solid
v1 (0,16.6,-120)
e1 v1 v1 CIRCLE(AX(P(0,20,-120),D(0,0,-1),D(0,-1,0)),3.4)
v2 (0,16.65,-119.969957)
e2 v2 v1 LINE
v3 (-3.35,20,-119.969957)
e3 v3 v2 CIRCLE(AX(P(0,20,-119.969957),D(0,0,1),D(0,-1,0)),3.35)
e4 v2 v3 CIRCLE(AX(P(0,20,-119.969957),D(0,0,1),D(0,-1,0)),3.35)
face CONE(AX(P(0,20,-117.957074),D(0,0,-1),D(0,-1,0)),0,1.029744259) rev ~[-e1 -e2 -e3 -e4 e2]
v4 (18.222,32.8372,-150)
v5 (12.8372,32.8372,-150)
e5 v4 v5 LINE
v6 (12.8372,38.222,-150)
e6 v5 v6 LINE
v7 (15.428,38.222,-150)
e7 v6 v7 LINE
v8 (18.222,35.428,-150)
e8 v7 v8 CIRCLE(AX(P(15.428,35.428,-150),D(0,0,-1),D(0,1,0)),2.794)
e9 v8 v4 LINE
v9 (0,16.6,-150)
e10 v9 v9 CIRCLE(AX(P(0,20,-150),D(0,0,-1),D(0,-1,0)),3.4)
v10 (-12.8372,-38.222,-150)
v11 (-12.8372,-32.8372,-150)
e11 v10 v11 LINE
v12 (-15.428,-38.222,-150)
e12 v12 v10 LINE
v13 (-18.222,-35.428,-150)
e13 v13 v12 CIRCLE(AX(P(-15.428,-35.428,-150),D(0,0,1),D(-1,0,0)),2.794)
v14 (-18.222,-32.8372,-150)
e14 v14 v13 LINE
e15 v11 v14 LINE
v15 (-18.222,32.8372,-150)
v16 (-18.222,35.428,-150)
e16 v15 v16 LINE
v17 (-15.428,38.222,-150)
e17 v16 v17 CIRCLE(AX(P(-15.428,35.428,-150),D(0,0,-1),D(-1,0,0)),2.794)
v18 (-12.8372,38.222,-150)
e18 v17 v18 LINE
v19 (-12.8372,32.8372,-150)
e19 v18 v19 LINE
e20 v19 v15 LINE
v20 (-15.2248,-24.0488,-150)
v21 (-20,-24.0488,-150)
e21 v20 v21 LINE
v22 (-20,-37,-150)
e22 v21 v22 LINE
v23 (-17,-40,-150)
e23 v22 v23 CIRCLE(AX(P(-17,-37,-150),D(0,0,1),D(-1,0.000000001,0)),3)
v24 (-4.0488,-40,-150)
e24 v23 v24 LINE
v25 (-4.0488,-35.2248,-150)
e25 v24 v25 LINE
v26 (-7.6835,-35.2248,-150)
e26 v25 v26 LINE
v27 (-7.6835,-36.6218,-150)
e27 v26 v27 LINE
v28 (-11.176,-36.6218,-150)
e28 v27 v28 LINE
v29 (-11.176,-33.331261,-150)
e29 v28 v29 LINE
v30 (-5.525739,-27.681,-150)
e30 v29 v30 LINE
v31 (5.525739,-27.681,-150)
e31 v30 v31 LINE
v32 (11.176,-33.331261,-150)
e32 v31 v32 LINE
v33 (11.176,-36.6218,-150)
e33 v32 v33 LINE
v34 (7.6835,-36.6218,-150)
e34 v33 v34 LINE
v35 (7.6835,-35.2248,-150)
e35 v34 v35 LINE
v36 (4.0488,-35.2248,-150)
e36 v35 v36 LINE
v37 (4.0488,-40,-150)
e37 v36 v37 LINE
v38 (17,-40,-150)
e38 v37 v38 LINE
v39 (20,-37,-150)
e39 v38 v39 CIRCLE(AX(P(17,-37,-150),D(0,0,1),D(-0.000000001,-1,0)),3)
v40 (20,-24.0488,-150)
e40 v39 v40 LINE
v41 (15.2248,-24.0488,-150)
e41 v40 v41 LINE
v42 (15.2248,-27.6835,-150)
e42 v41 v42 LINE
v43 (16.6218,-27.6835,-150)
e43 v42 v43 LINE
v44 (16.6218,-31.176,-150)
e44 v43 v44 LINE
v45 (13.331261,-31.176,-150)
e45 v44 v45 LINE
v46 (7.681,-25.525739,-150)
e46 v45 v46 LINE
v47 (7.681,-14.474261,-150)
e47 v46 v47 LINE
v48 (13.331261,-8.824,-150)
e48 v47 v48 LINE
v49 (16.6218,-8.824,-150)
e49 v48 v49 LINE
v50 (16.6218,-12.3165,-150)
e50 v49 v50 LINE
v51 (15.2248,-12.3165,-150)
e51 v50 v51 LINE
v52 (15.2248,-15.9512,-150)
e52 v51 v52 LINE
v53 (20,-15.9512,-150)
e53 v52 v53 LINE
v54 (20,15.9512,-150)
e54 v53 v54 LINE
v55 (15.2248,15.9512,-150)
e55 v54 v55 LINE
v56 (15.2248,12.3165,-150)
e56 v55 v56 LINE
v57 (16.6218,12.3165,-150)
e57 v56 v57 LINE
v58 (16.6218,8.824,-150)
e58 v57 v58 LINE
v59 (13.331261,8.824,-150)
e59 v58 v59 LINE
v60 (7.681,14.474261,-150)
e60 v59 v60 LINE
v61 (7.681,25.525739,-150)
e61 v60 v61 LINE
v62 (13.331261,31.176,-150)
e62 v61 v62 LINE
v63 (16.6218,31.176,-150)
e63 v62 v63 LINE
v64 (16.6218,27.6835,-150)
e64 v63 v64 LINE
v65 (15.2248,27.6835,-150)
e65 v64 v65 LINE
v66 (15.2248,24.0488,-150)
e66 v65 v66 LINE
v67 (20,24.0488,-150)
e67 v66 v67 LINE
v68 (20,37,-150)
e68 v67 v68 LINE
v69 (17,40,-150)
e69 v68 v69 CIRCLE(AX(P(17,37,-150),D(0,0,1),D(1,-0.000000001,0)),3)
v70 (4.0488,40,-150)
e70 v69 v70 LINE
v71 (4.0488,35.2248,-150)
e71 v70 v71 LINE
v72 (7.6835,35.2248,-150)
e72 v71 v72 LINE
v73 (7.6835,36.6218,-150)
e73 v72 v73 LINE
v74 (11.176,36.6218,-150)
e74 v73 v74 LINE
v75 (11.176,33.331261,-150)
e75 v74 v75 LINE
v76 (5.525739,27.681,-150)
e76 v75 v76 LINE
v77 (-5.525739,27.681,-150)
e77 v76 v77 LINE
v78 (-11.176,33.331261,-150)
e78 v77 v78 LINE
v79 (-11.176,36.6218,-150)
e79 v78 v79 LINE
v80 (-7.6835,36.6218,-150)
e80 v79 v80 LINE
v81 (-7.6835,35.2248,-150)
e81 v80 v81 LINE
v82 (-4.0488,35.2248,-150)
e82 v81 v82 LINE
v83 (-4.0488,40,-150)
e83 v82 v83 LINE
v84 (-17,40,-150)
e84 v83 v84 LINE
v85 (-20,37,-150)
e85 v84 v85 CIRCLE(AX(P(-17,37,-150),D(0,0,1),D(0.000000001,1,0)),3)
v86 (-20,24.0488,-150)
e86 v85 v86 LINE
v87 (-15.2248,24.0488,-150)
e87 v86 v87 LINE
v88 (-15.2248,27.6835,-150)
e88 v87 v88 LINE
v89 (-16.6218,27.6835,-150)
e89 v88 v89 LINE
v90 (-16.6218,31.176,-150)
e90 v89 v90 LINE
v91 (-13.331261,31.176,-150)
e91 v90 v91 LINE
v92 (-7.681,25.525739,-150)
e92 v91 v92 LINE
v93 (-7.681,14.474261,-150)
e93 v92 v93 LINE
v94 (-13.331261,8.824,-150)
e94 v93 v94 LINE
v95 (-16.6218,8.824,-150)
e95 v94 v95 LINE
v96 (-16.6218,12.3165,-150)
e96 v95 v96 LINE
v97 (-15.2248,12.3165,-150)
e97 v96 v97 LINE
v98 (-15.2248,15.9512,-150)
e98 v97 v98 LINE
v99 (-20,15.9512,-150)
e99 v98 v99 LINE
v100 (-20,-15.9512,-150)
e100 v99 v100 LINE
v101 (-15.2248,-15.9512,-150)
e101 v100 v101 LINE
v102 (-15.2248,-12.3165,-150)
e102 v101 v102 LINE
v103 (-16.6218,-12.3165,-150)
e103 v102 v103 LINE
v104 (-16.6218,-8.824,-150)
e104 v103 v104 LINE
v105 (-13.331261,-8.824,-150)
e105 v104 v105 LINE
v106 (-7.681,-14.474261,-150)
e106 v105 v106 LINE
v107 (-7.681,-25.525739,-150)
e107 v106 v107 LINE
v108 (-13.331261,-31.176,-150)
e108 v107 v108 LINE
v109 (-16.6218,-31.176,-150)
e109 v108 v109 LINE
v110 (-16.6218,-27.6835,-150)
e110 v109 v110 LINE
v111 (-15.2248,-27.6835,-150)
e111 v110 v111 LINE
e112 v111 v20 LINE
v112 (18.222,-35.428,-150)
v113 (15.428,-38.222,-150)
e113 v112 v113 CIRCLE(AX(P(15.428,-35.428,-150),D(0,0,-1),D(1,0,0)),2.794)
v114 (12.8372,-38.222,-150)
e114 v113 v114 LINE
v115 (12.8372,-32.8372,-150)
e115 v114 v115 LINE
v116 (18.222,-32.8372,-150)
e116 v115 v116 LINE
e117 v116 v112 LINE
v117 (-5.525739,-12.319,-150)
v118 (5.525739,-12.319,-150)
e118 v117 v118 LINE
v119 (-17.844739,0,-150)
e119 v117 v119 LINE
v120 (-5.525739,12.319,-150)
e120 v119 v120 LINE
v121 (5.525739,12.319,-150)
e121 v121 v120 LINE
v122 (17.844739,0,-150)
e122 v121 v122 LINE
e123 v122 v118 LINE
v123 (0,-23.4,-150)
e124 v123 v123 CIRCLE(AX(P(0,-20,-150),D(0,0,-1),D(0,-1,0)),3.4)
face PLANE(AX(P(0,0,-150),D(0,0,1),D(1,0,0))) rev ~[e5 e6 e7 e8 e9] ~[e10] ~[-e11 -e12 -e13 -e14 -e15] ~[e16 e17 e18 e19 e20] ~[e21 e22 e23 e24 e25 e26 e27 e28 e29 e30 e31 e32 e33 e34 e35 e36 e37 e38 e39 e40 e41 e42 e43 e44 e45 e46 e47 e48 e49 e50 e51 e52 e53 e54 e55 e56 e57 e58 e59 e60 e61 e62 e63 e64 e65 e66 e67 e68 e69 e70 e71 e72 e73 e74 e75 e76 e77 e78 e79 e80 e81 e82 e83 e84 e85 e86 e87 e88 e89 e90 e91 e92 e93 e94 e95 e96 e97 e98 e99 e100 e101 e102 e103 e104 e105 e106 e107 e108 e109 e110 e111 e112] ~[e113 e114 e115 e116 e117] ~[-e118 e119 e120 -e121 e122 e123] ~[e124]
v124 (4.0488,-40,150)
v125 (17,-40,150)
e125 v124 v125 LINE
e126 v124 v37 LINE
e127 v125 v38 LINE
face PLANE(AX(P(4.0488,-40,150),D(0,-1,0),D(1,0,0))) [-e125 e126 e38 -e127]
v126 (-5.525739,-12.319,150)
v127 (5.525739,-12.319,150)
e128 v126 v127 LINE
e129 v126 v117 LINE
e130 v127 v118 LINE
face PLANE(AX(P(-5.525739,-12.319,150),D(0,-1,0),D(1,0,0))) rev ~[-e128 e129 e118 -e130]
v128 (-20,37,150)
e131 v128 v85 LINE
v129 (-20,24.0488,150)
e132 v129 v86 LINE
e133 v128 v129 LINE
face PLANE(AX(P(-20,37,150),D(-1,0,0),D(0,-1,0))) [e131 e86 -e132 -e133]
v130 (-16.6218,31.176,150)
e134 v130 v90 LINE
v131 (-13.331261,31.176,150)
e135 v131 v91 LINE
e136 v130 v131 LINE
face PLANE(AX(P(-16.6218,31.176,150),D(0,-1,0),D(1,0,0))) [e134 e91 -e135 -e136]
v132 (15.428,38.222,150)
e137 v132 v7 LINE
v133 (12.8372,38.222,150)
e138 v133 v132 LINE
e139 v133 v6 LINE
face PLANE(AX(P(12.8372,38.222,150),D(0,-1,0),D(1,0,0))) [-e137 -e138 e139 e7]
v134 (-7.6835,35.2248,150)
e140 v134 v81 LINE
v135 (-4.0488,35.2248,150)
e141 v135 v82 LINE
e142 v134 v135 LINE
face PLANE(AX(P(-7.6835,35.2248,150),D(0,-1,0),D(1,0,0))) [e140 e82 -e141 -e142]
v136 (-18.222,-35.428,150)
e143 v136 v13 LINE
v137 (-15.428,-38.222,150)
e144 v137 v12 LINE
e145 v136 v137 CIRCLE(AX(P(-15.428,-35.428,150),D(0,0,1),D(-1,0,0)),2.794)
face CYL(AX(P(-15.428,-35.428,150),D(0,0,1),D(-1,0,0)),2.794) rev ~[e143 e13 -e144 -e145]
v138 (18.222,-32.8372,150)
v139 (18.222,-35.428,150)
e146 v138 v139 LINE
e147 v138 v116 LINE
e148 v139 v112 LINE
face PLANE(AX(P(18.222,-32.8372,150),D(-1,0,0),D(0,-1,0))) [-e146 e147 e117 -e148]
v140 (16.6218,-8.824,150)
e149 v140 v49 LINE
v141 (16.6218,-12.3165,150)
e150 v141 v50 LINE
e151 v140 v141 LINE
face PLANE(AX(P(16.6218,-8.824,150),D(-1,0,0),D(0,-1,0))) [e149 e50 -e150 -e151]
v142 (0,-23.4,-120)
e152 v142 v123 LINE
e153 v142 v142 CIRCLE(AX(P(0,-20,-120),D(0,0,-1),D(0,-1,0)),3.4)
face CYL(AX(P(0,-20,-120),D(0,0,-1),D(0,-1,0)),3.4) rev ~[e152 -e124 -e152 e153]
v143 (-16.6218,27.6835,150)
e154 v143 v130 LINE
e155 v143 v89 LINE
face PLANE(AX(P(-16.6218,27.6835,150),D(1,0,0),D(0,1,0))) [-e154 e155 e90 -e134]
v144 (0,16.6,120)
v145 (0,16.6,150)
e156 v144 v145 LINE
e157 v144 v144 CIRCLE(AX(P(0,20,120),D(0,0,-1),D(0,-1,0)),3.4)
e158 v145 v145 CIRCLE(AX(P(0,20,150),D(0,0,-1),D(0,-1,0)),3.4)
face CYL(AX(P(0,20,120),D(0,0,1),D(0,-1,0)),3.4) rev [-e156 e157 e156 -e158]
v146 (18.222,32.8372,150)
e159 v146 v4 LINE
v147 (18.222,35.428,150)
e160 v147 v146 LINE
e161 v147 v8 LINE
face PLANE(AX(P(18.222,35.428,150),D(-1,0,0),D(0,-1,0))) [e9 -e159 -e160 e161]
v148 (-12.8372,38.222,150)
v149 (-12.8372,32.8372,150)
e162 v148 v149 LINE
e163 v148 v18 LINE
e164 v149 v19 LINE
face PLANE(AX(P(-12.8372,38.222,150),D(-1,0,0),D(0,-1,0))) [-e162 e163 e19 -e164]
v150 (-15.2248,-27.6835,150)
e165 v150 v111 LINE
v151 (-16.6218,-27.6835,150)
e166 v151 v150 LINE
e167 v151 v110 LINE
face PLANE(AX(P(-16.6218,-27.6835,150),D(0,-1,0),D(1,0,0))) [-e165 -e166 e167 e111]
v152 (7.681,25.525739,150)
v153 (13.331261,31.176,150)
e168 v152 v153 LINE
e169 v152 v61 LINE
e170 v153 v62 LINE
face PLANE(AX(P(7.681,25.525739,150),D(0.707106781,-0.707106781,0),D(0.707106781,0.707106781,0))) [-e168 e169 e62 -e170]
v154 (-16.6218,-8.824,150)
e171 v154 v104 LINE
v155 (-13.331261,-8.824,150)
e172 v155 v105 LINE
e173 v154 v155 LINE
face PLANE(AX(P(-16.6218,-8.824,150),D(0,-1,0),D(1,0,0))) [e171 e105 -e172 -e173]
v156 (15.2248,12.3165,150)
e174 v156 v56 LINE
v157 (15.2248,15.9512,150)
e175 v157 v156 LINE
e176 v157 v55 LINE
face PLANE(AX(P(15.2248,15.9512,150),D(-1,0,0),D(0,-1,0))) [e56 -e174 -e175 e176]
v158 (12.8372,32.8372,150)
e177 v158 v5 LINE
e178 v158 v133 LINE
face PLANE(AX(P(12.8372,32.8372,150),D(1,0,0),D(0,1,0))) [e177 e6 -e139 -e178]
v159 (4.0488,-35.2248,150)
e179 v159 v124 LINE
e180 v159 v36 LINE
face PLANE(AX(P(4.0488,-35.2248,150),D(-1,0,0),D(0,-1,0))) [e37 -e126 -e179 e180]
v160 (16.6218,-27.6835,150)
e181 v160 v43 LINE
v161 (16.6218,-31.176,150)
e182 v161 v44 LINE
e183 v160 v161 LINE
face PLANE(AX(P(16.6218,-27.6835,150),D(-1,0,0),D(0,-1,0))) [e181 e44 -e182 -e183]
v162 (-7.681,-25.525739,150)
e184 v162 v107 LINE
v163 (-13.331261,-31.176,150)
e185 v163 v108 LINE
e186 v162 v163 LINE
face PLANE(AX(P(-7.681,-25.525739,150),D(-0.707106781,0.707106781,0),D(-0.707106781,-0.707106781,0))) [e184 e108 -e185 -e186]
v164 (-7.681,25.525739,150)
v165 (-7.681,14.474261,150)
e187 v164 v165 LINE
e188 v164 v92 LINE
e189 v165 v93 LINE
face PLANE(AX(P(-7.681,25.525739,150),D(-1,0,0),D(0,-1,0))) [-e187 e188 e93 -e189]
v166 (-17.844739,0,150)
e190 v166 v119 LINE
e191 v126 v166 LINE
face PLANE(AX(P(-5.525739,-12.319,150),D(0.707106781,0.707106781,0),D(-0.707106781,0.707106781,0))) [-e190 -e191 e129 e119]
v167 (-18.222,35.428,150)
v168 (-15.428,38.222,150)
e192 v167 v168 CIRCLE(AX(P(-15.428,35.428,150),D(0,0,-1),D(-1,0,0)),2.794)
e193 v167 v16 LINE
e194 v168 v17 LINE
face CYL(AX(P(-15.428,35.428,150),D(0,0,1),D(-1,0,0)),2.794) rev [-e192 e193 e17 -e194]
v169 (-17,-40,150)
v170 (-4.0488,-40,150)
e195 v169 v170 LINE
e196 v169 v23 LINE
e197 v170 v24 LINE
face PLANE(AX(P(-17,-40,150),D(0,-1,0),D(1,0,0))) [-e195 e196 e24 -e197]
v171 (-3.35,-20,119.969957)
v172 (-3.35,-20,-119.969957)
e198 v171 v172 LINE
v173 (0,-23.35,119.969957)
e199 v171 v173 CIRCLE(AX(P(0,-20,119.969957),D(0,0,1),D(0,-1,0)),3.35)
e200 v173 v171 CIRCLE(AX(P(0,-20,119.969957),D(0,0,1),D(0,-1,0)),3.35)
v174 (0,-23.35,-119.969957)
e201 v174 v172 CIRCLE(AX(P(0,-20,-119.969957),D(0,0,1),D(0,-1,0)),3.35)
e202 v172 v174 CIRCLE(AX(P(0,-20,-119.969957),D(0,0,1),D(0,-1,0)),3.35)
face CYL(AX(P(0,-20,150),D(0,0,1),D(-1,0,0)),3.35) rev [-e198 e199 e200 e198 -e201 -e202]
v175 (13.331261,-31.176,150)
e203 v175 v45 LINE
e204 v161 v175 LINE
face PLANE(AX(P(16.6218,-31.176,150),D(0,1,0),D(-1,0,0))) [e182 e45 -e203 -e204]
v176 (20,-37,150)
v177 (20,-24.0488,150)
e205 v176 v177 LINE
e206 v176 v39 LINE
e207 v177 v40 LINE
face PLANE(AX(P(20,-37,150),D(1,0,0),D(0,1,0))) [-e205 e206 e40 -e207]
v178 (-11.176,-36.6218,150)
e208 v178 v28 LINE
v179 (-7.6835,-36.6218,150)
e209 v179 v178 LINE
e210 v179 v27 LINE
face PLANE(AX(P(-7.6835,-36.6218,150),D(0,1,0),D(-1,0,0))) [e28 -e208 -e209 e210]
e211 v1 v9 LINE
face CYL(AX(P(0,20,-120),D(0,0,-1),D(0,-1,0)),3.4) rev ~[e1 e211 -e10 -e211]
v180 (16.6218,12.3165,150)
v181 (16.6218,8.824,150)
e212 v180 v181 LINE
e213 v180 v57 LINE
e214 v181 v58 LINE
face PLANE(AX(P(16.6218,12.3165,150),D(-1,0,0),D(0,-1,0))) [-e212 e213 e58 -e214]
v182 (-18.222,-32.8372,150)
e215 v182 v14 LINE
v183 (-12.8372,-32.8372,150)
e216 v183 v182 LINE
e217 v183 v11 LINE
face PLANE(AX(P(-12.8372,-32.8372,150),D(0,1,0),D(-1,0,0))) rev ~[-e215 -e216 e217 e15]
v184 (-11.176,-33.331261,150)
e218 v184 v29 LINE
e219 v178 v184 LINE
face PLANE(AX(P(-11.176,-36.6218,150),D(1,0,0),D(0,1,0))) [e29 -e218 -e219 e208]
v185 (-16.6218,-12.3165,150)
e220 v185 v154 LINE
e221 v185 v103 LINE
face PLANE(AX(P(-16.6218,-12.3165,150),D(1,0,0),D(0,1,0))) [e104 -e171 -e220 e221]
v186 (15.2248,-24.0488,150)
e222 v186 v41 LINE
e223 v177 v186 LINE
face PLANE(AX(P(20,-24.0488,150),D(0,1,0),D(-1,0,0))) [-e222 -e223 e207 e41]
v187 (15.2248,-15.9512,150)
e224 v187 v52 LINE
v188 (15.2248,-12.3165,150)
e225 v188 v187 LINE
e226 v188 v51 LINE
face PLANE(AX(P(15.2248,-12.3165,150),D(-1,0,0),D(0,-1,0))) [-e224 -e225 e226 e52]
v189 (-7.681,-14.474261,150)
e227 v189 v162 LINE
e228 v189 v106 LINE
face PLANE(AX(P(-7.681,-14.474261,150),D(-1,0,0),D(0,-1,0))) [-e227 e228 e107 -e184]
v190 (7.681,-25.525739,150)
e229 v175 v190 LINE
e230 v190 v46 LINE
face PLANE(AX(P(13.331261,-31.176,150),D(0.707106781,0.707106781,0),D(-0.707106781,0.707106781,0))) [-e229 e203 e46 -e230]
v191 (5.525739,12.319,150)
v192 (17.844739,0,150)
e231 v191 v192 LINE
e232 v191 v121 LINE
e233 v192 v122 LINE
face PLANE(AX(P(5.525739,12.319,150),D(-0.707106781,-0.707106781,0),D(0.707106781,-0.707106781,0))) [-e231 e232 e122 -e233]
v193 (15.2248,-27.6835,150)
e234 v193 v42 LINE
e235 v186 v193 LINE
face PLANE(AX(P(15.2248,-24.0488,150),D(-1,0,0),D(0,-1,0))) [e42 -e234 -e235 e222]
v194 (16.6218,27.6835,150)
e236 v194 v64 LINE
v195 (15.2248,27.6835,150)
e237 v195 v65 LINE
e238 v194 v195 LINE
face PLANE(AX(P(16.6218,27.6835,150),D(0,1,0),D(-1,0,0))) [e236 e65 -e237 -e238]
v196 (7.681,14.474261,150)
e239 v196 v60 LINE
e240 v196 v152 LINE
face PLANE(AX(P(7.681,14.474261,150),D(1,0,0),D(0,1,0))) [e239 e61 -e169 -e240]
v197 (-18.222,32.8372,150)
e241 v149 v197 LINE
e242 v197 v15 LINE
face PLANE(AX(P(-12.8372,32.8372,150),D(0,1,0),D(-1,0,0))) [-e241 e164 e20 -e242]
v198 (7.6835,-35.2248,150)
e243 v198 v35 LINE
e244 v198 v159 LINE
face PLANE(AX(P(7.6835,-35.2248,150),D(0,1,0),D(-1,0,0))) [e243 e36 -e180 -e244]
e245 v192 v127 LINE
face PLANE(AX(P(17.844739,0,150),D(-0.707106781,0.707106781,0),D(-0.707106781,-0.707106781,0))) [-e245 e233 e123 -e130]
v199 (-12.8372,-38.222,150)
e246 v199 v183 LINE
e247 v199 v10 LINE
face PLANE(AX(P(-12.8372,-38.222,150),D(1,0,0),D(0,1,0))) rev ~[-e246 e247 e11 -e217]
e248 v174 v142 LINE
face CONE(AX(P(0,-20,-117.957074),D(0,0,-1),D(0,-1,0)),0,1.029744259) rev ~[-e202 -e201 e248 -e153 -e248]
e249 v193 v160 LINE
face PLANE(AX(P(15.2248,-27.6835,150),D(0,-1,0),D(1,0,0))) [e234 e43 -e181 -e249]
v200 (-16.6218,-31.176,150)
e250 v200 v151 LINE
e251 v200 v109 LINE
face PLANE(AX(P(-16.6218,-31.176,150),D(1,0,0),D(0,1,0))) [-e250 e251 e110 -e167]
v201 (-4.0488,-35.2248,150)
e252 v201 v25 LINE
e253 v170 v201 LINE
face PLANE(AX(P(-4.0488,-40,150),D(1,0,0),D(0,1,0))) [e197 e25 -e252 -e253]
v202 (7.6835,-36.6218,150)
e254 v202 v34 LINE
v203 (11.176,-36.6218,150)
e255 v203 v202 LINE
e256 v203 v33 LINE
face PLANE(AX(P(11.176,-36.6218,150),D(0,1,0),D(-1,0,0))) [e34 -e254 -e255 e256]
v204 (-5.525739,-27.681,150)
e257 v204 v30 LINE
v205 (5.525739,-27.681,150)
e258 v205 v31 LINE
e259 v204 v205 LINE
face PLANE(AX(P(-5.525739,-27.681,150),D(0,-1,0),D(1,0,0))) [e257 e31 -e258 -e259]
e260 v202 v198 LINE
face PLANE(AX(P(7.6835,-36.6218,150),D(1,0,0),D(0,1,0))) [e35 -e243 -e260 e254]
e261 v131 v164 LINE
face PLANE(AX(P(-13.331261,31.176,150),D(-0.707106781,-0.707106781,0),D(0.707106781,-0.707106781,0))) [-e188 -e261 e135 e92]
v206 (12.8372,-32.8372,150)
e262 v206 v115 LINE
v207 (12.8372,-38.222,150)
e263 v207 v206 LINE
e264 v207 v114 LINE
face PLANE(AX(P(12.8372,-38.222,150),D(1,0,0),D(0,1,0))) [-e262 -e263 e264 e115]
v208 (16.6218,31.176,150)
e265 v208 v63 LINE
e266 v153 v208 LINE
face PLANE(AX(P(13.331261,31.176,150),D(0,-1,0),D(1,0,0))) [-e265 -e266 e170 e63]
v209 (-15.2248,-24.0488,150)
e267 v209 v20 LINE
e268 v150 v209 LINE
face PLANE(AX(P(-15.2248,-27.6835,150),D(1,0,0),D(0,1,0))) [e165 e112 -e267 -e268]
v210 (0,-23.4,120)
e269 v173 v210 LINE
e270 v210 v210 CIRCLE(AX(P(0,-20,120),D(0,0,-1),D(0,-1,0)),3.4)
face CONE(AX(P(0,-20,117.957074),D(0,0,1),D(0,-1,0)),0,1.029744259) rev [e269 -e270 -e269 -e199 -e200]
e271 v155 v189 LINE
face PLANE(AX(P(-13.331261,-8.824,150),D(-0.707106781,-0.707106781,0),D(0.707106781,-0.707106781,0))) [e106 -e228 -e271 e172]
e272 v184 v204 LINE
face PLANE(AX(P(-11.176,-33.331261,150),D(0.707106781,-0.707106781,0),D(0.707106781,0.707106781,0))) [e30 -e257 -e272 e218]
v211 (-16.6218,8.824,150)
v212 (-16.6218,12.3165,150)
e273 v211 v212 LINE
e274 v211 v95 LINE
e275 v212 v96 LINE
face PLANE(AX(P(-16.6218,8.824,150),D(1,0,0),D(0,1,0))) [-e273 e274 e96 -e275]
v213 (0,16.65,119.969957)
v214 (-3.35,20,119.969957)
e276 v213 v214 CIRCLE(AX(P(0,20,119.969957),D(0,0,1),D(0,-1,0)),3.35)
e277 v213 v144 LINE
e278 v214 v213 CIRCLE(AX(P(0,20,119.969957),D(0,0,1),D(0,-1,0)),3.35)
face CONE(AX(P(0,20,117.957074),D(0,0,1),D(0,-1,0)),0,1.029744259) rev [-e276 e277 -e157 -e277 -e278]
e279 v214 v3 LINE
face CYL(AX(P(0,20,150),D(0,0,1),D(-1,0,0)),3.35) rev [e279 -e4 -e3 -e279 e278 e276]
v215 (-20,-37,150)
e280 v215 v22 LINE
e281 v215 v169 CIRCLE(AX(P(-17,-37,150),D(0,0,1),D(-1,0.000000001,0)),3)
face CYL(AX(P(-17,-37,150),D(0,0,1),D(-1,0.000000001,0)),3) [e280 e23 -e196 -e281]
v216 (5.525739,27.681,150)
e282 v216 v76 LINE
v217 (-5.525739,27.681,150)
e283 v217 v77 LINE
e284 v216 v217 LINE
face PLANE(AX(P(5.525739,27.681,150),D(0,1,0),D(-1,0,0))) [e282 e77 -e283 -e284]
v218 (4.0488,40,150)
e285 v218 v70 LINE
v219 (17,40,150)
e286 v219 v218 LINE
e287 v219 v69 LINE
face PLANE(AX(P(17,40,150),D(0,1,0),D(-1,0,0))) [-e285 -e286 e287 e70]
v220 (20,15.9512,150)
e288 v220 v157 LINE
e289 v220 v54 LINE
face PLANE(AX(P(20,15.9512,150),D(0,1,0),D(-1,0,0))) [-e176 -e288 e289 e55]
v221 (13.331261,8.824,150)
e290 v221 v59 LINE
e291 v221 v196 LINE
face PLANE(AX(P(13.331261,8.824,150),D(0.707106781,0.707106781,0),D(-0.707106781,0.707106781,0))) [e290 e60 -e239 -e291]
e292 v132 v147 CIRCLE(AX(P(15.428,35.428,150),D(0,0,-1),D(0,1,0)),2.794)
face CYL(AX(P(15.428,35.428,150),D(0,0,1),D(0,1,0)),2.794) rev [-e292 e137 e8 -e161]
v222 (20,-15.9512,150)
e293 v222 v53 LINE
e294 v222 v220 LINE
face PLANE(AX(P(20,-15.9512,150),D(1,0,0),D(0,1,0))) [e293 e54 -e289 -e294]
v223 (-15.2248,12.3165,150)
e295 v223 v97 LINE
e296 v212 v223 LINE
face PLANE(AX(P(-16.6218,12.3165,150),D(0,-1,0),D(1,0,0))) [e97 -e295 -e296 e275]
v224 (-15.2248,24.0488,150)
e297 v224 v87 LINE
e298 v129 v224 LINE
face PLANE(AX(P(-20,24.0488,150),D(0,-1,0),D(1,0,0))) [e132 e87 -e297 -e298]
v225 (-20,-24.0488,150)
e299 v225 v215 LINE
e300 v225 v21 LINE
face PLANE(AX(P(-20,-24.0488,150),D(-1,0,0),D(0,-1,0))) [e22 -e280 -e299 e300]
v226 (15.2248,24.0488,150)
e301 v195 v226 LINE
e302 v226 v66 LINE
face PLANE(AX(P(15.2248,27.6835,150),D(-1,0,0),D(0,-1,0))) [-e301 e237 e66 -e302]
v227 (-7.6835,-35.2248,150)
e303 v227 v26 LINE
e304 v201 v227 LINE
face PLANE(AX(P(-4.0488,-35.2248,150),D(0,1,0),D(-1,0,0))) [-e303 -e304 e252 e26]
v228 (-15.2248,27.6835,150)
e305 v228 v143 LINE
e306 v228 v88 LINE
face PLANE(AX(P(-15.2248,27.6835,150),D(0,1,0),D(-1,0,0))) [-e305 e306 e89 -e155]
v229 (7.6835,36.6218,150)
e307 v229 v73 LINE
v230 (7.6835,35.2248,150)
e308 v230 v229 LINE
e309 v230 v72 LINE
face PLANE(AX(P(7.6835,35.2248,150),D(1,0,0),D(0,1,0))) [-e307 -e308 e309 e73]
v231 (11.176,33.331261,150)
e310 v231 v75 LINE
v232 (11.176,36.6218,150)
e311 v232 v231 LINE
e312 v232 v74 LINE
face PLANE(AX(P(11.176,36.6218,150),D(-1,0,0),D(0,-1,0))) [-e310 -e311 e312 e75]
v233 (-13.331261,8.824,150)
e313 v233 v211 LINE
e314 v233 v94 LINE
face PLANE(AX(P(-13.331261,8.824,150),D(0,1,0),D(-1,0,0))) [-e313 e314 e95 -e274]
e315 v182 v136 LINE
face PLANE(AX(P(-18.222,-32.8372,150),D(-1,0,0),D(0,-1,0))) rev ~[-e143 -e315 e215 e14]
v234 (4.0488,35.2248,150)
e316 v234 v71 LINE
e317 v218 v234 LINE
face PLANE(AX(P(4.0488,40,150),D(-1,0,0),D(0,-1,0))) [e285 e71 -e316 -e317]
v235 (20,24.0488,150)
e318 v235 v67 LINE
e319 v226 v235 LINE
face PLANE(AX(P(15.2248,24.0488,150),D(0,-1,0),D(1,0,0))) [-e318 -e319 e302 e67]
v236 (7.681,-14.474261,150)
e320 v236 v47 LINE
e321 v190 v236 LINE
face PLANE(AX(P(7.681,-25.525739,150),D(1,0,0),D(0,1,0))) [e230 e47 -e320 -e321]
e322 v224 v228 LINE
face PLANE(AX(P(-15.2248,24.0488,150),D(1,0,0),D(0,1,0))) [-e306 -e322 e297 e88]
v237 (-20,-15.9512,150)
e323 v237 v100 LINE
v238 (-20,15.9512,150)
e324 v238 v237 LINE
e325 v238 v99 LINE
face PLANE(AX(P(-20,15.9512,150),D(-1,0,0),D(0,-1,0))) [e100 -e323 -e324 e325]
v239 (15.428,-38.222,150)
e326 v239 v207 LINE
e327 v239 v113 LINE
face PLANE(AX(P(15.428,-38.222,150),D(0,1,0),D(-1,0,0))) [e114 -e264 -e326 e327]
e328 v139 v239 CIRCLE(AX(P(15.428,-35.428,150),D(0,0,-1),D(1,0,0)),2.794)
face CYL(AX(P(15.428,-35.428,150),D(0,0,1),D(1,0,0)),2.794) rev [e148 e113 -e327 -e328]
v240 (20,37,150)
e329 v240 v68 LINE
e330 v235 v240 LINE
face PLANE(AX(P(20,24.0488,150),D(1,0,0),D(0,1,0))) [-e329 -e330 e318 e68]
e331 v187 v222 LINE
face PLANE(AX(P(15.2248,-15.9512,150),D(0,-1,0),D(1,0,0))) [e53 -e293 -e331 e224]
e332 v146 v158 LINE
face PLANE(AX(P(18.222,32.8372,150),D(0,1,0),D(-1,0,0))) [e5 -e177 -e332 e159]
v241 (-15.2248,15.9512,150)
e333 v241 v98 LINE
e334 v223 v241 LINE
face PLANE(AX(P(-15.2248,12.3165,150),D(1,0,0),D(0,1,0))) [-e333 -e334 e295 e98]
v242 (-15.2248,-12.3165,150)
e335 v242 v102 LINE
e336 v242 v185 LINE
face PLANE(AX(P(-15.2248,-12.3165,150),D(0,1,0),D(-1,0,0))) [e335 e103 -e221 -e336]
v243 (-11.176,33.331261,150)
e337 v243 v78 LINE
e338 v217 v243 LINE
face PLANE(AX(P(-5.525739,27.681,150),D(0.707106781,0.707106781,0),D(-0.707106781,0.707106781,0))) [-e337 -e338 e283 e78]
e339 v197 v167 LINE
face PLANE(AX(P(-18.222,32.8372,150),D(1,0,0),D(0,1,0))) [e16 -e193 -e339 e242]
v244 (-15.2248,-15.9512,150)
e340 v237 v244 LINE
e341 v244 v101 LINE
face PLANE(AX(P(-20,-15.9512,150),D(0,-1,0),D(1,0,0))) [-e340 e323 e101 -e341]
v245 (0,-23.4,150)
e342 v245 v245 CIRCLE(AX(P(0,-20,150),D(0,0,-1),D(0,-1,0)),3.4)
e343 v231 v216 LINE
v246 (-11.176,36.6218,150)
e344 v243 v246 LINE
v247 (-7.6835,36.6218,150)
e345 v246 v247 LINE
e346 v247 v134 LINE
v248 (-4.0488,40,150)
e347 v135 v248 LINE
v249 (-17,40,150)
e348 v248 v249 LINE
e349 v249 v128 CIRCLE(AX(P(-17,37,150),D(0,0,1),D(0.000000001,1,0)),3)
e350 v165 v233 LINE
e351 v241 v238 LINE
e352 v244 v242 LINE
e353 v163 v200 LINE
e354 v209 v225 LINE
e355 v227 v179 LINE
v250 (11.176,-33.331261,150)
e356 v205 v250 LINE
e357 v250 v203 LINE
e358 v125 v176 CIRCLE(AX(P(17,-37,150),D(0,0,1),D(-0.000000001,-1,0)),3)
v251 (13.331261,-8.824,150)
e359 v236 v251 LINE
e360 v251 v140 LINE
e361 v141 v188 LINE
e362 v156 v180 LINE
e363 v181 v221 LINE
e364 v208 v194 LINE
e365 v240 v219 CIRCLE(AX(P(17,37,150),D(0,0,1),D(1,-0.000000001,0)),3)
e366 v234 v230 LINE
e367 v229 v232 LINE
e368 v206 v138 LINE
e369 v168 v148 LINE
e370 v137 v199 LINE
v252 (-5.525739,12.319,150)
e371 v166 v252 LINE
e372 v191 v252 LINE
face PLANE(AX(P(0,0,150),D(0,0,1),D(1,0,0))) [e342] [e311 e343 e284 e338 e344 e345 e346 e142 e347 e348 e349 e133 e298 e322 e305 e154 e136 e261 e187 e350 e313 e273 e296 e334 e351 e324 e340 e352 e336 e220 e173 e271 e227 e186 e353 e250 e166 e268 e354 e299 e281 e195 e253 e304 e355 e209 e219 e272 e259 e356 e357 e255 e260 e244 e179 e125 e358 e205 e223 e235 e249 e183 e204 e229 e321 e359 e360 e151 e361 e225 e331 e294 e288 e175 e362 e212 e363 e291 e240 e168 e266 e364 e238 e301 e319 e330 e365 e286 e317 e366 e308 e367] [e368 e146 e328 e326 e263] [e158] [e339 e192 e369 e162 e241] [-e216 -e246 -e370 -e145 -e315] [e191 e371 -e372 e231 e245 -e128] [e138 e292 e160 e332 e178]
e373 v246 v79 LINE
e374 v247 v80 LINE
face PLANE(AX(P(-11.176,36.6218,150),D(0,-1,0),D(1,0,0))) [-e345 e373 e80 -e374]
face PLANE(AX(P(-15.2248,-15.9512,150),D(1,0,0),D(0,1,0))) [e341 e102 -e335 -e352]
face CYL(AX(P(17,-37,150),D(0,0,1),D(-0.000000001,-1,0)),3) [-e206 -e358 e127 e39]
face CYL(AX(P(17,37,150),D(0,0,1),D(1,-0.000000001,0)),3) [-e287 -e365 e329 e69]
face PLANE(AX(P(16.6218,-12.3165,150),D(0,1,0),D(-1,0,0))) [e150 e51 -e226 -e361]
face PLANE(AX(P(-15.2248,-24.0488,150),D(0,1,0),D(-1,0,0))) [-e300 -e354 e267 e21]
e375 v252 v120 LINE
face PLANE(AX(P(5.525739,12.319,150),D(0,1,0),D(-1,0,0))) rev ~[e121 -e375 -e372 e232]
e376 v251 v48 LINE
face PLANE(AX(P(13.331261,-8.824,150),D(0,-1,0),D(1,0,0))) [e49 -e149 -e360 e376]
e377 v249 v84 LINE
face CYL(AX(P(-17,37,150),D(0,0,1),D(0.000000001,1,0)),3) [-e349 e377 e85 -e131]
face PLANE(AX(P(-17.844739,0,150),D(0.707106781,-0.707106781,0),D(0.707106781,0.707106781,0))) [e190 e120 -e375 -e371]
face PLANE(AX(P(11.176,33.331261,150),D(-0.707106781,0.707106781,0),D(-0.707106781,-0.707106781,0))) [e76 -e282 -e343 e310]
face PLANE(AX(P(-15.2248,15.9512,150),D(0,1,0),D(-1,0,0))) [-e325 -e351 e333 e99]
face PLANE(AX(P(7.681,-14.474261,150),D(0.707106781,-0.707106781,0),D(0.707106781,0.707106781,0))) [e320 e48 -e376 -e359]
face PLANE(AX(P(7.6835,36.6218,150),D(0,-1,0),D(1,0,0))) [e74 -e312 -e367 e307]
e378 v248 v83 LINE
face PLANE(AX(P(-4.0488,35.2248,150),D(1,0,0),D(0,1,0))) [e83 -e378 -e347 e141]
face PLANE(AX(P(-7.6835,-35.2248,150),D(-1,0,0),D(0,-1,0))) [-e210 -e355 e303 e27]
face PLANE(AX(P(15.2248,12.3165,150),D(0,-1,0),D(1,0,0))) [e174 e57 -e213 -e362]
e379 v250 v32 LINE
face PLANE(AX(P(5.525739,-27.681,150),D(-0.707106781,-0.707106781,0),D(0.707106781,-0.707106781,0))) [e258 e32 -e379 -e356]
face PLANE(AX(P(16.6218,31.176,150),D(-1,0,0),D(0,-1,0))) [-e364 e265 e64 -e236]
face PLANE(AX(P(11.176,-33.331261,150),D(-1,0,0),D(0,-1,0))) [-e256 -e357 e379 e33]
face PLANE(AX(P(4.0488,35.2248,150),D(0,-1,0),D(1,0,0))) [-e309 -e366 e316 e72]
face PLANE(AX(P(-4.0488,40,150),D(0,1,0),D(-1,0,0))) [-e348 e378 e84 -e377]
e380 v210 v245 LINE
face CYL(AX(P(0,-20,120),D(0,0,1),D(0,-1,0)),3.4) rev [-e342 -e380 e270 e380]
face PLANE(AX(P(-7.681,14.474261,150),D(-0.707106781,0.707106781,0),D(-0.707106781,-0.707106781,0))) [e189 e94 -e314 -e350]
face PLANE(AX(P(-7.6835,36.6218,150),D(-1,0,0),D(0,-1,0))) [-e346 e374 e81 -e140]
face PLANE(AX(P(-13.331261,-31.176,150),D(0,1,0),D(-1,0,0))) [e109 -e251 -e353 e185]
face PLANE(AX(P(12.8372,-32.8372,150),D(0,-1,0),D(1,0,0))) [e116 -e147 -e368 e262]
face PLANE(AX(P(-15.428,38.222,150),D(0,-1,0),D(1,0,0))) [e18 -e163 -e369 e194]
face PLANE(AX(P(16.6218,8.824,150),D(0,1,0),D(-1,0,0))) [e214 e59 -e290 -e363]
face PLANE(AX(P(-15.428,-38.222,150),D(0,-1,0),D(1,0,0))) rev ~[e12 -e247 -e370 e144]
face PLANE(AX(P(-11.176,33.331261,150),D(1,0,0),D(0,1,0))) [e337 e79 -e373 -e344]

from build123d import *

# Parameters (mm, degrees)
SKETCH2_R                            = 3.35
F_40_SERIES_TS40_80LM_650037_1_DEPTH = 300
M8X1_25_TAPPED_HOLE1_AT_2_COUNT      = 2
M8X1_25_TAPPED_HOLE1_AT_2_PITCH      = 40


with BuildPart() as part:
    # Sketch2 → 40 series TS40-80LM-650037(1) (new body)
    with BuildSketch(Plane(origin=(0, 0, 150), x_dir=(-1, 0, 0), z_dir=(0, 0, -1))):
        with BuildLine():
            Line((0, -27.681), (-5.525738531, -27.681))
            Line((-5.525738531, -27.681), (-11.176, -33.331261469))
            Line((-11.176, -33.331261469), (-11.176, -36.6218))
            Line((-11.176, -36.6218), (-7.6835, -36.6218))
            Line((-7.6835, -36.6218), (-7.6835, -35.2248))
            Line((-7.6835, -35.2248), (-4.0488, -35.2248))
            Line((-4.0488, -35.2248), (-4.0488, -40))
            Line((-4.0488, -40), (-17, -40))
            ThreePointArc((-17, -40), (-19.121320344, -39.121320344), (-20, -37))
            Line((-20, -37), (-20, -24.0488))
            Line((-20, -24.0488), (-15.2248, -24.0488))
            Line((-15.2248, -24.0488), (-15.2248, -27.6835))
            Line((-15.2248, -27.6835), (-16.6218, -27.6835))
            Line((-16.6218, -27.6835), (-16.6218, -31.176))
            Line((-16.6218, -31.176), (-13.331261469, -31.176))
            Line((-13.331261469, -31.176), (-7.681, -25.525738531))
            Line((-7.681, -25.525738531), (-7.681, -20))
            Line((-7.681, -20), (-7.681, -14.474261469))
            Line((-7.681, -14.474261469), (-13.331261469, -8.824))
            Line((-13.331261469, -8.824), (-16.6218, -8.824))
            Line((-16.6218, -8.824), (-16.6218, -12.3165))
            Line((-16.6218, -12.3165), (-15.2248, -12.3165))
            Line((-15.2248, -12.3165), (-15.2248, -15.9512))
            Line((-15.2248, -15.9512), (-20, -15.9512))
            Line((-20, -15.9512), (-20, 15.9512))
            Line((-20, 15.9512), (-15.2248, 15.9512))
            Line((-15.2248, 15.9512), (-15.2248, 12.3165))
            Line((-15.2248, 12.3165), (-16.6218, 12.3165))
            Line((-16.6218, 12.3165), (-16.6218, 8.824))
            Line((-16.6218, 8.824), (-13.331261469, 8.824))
            Line((-13.331261469, 8.824), (-7.681, 14.474261469))
            Line((-7.681, 14.474261469), (-7.681, 25.525738531))
            Line((-7.681, 25.525738531), (-13.331261469, 31.176))
            Line((-13.331261469, 31.176), (-16.6218, 31.176))
            Line((-16.6218, 31.176), (-16.6218, 27.6835))
            Line((-16.6218, 27.6835), (-15.2248, 27.6835))
            Line((-15.2248, 27.6835), (-15.2248, 24.0488))
            Line((-15.2248, 24.0488), (-20, 24.0488))
            Line((-20, 24.0488), (-20, 37))
            ThreePointArc((-20, 37), (-19.121320344, 39.121320344), (-17, 40))
            Line((-17, 40), (-4.0488, 40))
            Line((-4.0488, 40), (-4.0488, 35.2248))
            Line((-4.0488, 35.2248), (-7.6835, 35.2248))
            Line((-7.6835, 35.2248), (-7.6835, 36.6218))
            Line((-7.6835, 36.6218), (-11.176, 36.6218))
            Line((-11.176, 36.6218), (-11.176, 33.331261469))
            Line((-11.176, 33.331261469), (-5.525738531, 27.681))
            Line((-5.525738531, 27.681), (0, 27.681))
            Line((0, 27.681), (5.525738531, 27.681))
            Line((5.525738531, 27.681), (11.176, 33.331261469))
            Line((11.176, 33.331261469), (11.176, 36.6218))
            Line((11.176, 36.6218), (7.6835, 36.6218))
            Line((7.6835, 36.6218), (7.6835, 35.2248))
            Line((7.6835, 35.2248), (4.0488, 35.2248))
            Line((4.0488, 35.2248), (4.0488, 40))
            Line((4.0488, 40), (17, 40))
            ThreePointArc((17, 40), (19.121320344, 39.121320344), (20, 37))
            Line((20, 37), (20, 24.0488))
            Line((20, 24.0488), (15.2248, 24.0488))
            Line((15.2248, 24.0488), (15.2248, 27.6835))
            Line((15.2248, 27.6835), (16.6218, 27.6835))
            Line((16.6218, 27.6835), (16.6218, 31.176))
            Line((16.6218, 31.176), (13.331261469, 31.176))
            Line((13.331261469, 31.176), (7.681, 25.525738531))
            Line((7.681, 25.525738531), (7.681, 20))
            Line((7.681, 20), (7.681, 14.474261469))
            Line((7.681, 14.474261469), (13.331261469, 8.824))
            Line((13.331261469, 8.824), (16.6218, 8.824))
            Line((16.6218, 8.824), (16.6218, 12.3165))
            Line((16.6218, 12.3165), (15.2248, 12.3165))
            Line((15.2248, 12.3165), (15.2248, 15.9512))
            Line((15.2248, 15.9512), (20, 15.9512))
            Line((20, 15.9512), (20, -15.9512))
            Line((20, -15.9512), (15.2248, -15.9512))
            Line((15.2248, -15.9512), (15.2248, -12.3165))
            Line((15.2248, -12.3165), (16.6218, -12.3165))
            Line((16.6218, -12.3165), (16.6218, -8.824))
            Line((16.6218, -8.824), (13.331261469, -8.824))
            Line((13.331261469, -8.824), (7.681, -14.474261469))
            Line((7.681, -14.474261469), (7.681, -20))
            Line((7.681, -20), (7.681, -25.525738531))
            Line((7.681, -25.525738531), (13.331261469, -31.176))
            Line((13.331261469, -31.176), (16.6218, -31.176))
            Line((16.6218, -31.176), (16.6218, -27.6835))
            Line((16.6218, -27.6835), (15.2248, -27.6835))
            Line((15.2248, -27.6835), (15.2248, -24.0488))
            Line((15.2248, -24.0488), (20, -24.0488))
            Line((20, -24.0488), (20, -37))
            ThreePointArc((20, -37), (19.121320344, -39.121320344), (17, -40))
            Line((17, -40), (4.0488, -40))
            Line((4.0488, -40), (4.0488, -35.2248))
            Line((4.0488, -35.2248), (7.6835, -35.2248))
            Line((7.6835, -35.2248), (7.6835, -36.6218))
            Line((7.6835, -36.6218), (11.176, -36.6218))
            Line((11.176, -36.6218), (11.176, -33.331261469))
            Line((11.176, -33.331261469), (5.525738531, -27.681))
            Line((5.525738531, -27.681), (0, -27.681))
        make_face()
        with Locations((0, -20)):
            Circle(SKETCH2_R, mode=Mode.SUBTRACT)
        with Locations((0, 20)):
            Circle(SKETCH2_R, mode=Mode.SUBTRACT)
        Polygon((-5.525738531, 12.319), (-17.844738531, 0), (-5.525738531, -12.319), (0, -12.319), (5.525738531, -12.319), (17.844738531, 0), (5.525738531, 12.319), (0, 12.319), align=None, mode=Mode.SUBTRACT)
        with BuildLine():
            Line((12.8372, 38.222), (12.8372, 32.8372))
            Line((12.8372, 32.8372), (18.222, 32.8372))
            Line((18.222, 32.8372), (18.222, 35.428))
            ThreePointArc((18.222, 35.428), (17.403656347, 37.403656347), (15.428, 38.222))
            Line((15.428, 38.222), (12.8372, 38.222))
        make_face(mode=Mode.SUBTRACT)
        with BuildLine():
            Line((12.8372, -32.8372), (18.222, -32.8372))
            Line((18.222, -32.8372), (18.222, -35.428))
            ThreePointArc((18.222, -35.428), (17.403656347, -37.403656347), (15.428, -38.222))
            Line((15.428, -38.222), (12.8372, -38.222))
            Line((12.8372, -38.222), (12.8372, -32.8372))
        make_face(mode=Mode.SUBTRACT)
        with BuildLine():
            Line((-12.8372, -38.222), (-12.8372, -32.8372))
            Line((-12.8372, -32.8372), (-18.222, -32.8372))
            Line((-18.222, -32.8372), (-18.222, -35.428))
            ThreePointArc((-18.222, -35.428), (-17.403656347, -37.403656347), (-15.428, -38.222))
            Line((-15.428, -38.222), (-12.8372, -38.222))
        make_face(mode=Mode.SUBTRACT)
        with BuildLine():
            Line((-18.222, 35.428), (-18.222, 32.8372))
            Line((-18.222, 32.8372), (-12.8372, 32.8372))
            Line((-12.8372, 32.8372), (-12.8372, 38.222))
            Line((-12.8372, 38.222), (-15.428, 38.222))
            ThreePointArc((-15.428, 38.222), (-17.403656347, 37.403656347), (-18.222, 35.428))
        make_face(mode=Mode.SUBTRACT)
    extrude(amount=F_40_SERIES_TS40_80LM_650037_1_DEPTH)

    # Sketch4 → M8x1.25 Tapped Hole1 (revolve, cut)
    with BuildSketch(Plane(origin=(0, -20, 150), x_dir=(0, -1, 0), z_dir=(1, 0, 0))):
        Polygon((0, 0), (0, 32.042926105), (3.4, 30), (3.4, 0), align=None)
    m8x1_25_tapped_hole1 = revolve(axis=Axis((0, -20, 156.35), (0, 0, -1)), mode=Mode.SUBTRACT)

    # M8x1.25 Tapped Hole1 at 2: M8x1.25 Tapped Hole1 ×2
    with Locations(*[(0, i * M8X1_25_TAPPED_HOLE1_AT_2_PITCH, 0) for i in range(1, M8X1_25_TAPPED_HOLE1_AT_2_COUNT)]):
        add(m8x1_25_tapped_hole1, mode=Mode.SUBTRACT)

    # Mirror1: M8x1.25 Tapped Hole1 across plane
    add(m8x1_25_tapped_hole1.mirror(Plane.XY), mode=Mode.SUBTRACT)

    # Mirror1 copy 1 sketch → Mirror1 copy 1 (revolve, cut)
    with BuildSketch(Plane(origin=(0, 20, -150), x_dir=(0, -1, 0), z_dir=(1, 0, 0))):
        Polygon((0, 0), (0, -32.042926105), (3.4, -30), (3.4, 0), align=None)
    revolve(axis=Axis((0, 20, -156.35), (0, 0, -1)), mode=Mode.SUBTRACT)


solid = part.part
